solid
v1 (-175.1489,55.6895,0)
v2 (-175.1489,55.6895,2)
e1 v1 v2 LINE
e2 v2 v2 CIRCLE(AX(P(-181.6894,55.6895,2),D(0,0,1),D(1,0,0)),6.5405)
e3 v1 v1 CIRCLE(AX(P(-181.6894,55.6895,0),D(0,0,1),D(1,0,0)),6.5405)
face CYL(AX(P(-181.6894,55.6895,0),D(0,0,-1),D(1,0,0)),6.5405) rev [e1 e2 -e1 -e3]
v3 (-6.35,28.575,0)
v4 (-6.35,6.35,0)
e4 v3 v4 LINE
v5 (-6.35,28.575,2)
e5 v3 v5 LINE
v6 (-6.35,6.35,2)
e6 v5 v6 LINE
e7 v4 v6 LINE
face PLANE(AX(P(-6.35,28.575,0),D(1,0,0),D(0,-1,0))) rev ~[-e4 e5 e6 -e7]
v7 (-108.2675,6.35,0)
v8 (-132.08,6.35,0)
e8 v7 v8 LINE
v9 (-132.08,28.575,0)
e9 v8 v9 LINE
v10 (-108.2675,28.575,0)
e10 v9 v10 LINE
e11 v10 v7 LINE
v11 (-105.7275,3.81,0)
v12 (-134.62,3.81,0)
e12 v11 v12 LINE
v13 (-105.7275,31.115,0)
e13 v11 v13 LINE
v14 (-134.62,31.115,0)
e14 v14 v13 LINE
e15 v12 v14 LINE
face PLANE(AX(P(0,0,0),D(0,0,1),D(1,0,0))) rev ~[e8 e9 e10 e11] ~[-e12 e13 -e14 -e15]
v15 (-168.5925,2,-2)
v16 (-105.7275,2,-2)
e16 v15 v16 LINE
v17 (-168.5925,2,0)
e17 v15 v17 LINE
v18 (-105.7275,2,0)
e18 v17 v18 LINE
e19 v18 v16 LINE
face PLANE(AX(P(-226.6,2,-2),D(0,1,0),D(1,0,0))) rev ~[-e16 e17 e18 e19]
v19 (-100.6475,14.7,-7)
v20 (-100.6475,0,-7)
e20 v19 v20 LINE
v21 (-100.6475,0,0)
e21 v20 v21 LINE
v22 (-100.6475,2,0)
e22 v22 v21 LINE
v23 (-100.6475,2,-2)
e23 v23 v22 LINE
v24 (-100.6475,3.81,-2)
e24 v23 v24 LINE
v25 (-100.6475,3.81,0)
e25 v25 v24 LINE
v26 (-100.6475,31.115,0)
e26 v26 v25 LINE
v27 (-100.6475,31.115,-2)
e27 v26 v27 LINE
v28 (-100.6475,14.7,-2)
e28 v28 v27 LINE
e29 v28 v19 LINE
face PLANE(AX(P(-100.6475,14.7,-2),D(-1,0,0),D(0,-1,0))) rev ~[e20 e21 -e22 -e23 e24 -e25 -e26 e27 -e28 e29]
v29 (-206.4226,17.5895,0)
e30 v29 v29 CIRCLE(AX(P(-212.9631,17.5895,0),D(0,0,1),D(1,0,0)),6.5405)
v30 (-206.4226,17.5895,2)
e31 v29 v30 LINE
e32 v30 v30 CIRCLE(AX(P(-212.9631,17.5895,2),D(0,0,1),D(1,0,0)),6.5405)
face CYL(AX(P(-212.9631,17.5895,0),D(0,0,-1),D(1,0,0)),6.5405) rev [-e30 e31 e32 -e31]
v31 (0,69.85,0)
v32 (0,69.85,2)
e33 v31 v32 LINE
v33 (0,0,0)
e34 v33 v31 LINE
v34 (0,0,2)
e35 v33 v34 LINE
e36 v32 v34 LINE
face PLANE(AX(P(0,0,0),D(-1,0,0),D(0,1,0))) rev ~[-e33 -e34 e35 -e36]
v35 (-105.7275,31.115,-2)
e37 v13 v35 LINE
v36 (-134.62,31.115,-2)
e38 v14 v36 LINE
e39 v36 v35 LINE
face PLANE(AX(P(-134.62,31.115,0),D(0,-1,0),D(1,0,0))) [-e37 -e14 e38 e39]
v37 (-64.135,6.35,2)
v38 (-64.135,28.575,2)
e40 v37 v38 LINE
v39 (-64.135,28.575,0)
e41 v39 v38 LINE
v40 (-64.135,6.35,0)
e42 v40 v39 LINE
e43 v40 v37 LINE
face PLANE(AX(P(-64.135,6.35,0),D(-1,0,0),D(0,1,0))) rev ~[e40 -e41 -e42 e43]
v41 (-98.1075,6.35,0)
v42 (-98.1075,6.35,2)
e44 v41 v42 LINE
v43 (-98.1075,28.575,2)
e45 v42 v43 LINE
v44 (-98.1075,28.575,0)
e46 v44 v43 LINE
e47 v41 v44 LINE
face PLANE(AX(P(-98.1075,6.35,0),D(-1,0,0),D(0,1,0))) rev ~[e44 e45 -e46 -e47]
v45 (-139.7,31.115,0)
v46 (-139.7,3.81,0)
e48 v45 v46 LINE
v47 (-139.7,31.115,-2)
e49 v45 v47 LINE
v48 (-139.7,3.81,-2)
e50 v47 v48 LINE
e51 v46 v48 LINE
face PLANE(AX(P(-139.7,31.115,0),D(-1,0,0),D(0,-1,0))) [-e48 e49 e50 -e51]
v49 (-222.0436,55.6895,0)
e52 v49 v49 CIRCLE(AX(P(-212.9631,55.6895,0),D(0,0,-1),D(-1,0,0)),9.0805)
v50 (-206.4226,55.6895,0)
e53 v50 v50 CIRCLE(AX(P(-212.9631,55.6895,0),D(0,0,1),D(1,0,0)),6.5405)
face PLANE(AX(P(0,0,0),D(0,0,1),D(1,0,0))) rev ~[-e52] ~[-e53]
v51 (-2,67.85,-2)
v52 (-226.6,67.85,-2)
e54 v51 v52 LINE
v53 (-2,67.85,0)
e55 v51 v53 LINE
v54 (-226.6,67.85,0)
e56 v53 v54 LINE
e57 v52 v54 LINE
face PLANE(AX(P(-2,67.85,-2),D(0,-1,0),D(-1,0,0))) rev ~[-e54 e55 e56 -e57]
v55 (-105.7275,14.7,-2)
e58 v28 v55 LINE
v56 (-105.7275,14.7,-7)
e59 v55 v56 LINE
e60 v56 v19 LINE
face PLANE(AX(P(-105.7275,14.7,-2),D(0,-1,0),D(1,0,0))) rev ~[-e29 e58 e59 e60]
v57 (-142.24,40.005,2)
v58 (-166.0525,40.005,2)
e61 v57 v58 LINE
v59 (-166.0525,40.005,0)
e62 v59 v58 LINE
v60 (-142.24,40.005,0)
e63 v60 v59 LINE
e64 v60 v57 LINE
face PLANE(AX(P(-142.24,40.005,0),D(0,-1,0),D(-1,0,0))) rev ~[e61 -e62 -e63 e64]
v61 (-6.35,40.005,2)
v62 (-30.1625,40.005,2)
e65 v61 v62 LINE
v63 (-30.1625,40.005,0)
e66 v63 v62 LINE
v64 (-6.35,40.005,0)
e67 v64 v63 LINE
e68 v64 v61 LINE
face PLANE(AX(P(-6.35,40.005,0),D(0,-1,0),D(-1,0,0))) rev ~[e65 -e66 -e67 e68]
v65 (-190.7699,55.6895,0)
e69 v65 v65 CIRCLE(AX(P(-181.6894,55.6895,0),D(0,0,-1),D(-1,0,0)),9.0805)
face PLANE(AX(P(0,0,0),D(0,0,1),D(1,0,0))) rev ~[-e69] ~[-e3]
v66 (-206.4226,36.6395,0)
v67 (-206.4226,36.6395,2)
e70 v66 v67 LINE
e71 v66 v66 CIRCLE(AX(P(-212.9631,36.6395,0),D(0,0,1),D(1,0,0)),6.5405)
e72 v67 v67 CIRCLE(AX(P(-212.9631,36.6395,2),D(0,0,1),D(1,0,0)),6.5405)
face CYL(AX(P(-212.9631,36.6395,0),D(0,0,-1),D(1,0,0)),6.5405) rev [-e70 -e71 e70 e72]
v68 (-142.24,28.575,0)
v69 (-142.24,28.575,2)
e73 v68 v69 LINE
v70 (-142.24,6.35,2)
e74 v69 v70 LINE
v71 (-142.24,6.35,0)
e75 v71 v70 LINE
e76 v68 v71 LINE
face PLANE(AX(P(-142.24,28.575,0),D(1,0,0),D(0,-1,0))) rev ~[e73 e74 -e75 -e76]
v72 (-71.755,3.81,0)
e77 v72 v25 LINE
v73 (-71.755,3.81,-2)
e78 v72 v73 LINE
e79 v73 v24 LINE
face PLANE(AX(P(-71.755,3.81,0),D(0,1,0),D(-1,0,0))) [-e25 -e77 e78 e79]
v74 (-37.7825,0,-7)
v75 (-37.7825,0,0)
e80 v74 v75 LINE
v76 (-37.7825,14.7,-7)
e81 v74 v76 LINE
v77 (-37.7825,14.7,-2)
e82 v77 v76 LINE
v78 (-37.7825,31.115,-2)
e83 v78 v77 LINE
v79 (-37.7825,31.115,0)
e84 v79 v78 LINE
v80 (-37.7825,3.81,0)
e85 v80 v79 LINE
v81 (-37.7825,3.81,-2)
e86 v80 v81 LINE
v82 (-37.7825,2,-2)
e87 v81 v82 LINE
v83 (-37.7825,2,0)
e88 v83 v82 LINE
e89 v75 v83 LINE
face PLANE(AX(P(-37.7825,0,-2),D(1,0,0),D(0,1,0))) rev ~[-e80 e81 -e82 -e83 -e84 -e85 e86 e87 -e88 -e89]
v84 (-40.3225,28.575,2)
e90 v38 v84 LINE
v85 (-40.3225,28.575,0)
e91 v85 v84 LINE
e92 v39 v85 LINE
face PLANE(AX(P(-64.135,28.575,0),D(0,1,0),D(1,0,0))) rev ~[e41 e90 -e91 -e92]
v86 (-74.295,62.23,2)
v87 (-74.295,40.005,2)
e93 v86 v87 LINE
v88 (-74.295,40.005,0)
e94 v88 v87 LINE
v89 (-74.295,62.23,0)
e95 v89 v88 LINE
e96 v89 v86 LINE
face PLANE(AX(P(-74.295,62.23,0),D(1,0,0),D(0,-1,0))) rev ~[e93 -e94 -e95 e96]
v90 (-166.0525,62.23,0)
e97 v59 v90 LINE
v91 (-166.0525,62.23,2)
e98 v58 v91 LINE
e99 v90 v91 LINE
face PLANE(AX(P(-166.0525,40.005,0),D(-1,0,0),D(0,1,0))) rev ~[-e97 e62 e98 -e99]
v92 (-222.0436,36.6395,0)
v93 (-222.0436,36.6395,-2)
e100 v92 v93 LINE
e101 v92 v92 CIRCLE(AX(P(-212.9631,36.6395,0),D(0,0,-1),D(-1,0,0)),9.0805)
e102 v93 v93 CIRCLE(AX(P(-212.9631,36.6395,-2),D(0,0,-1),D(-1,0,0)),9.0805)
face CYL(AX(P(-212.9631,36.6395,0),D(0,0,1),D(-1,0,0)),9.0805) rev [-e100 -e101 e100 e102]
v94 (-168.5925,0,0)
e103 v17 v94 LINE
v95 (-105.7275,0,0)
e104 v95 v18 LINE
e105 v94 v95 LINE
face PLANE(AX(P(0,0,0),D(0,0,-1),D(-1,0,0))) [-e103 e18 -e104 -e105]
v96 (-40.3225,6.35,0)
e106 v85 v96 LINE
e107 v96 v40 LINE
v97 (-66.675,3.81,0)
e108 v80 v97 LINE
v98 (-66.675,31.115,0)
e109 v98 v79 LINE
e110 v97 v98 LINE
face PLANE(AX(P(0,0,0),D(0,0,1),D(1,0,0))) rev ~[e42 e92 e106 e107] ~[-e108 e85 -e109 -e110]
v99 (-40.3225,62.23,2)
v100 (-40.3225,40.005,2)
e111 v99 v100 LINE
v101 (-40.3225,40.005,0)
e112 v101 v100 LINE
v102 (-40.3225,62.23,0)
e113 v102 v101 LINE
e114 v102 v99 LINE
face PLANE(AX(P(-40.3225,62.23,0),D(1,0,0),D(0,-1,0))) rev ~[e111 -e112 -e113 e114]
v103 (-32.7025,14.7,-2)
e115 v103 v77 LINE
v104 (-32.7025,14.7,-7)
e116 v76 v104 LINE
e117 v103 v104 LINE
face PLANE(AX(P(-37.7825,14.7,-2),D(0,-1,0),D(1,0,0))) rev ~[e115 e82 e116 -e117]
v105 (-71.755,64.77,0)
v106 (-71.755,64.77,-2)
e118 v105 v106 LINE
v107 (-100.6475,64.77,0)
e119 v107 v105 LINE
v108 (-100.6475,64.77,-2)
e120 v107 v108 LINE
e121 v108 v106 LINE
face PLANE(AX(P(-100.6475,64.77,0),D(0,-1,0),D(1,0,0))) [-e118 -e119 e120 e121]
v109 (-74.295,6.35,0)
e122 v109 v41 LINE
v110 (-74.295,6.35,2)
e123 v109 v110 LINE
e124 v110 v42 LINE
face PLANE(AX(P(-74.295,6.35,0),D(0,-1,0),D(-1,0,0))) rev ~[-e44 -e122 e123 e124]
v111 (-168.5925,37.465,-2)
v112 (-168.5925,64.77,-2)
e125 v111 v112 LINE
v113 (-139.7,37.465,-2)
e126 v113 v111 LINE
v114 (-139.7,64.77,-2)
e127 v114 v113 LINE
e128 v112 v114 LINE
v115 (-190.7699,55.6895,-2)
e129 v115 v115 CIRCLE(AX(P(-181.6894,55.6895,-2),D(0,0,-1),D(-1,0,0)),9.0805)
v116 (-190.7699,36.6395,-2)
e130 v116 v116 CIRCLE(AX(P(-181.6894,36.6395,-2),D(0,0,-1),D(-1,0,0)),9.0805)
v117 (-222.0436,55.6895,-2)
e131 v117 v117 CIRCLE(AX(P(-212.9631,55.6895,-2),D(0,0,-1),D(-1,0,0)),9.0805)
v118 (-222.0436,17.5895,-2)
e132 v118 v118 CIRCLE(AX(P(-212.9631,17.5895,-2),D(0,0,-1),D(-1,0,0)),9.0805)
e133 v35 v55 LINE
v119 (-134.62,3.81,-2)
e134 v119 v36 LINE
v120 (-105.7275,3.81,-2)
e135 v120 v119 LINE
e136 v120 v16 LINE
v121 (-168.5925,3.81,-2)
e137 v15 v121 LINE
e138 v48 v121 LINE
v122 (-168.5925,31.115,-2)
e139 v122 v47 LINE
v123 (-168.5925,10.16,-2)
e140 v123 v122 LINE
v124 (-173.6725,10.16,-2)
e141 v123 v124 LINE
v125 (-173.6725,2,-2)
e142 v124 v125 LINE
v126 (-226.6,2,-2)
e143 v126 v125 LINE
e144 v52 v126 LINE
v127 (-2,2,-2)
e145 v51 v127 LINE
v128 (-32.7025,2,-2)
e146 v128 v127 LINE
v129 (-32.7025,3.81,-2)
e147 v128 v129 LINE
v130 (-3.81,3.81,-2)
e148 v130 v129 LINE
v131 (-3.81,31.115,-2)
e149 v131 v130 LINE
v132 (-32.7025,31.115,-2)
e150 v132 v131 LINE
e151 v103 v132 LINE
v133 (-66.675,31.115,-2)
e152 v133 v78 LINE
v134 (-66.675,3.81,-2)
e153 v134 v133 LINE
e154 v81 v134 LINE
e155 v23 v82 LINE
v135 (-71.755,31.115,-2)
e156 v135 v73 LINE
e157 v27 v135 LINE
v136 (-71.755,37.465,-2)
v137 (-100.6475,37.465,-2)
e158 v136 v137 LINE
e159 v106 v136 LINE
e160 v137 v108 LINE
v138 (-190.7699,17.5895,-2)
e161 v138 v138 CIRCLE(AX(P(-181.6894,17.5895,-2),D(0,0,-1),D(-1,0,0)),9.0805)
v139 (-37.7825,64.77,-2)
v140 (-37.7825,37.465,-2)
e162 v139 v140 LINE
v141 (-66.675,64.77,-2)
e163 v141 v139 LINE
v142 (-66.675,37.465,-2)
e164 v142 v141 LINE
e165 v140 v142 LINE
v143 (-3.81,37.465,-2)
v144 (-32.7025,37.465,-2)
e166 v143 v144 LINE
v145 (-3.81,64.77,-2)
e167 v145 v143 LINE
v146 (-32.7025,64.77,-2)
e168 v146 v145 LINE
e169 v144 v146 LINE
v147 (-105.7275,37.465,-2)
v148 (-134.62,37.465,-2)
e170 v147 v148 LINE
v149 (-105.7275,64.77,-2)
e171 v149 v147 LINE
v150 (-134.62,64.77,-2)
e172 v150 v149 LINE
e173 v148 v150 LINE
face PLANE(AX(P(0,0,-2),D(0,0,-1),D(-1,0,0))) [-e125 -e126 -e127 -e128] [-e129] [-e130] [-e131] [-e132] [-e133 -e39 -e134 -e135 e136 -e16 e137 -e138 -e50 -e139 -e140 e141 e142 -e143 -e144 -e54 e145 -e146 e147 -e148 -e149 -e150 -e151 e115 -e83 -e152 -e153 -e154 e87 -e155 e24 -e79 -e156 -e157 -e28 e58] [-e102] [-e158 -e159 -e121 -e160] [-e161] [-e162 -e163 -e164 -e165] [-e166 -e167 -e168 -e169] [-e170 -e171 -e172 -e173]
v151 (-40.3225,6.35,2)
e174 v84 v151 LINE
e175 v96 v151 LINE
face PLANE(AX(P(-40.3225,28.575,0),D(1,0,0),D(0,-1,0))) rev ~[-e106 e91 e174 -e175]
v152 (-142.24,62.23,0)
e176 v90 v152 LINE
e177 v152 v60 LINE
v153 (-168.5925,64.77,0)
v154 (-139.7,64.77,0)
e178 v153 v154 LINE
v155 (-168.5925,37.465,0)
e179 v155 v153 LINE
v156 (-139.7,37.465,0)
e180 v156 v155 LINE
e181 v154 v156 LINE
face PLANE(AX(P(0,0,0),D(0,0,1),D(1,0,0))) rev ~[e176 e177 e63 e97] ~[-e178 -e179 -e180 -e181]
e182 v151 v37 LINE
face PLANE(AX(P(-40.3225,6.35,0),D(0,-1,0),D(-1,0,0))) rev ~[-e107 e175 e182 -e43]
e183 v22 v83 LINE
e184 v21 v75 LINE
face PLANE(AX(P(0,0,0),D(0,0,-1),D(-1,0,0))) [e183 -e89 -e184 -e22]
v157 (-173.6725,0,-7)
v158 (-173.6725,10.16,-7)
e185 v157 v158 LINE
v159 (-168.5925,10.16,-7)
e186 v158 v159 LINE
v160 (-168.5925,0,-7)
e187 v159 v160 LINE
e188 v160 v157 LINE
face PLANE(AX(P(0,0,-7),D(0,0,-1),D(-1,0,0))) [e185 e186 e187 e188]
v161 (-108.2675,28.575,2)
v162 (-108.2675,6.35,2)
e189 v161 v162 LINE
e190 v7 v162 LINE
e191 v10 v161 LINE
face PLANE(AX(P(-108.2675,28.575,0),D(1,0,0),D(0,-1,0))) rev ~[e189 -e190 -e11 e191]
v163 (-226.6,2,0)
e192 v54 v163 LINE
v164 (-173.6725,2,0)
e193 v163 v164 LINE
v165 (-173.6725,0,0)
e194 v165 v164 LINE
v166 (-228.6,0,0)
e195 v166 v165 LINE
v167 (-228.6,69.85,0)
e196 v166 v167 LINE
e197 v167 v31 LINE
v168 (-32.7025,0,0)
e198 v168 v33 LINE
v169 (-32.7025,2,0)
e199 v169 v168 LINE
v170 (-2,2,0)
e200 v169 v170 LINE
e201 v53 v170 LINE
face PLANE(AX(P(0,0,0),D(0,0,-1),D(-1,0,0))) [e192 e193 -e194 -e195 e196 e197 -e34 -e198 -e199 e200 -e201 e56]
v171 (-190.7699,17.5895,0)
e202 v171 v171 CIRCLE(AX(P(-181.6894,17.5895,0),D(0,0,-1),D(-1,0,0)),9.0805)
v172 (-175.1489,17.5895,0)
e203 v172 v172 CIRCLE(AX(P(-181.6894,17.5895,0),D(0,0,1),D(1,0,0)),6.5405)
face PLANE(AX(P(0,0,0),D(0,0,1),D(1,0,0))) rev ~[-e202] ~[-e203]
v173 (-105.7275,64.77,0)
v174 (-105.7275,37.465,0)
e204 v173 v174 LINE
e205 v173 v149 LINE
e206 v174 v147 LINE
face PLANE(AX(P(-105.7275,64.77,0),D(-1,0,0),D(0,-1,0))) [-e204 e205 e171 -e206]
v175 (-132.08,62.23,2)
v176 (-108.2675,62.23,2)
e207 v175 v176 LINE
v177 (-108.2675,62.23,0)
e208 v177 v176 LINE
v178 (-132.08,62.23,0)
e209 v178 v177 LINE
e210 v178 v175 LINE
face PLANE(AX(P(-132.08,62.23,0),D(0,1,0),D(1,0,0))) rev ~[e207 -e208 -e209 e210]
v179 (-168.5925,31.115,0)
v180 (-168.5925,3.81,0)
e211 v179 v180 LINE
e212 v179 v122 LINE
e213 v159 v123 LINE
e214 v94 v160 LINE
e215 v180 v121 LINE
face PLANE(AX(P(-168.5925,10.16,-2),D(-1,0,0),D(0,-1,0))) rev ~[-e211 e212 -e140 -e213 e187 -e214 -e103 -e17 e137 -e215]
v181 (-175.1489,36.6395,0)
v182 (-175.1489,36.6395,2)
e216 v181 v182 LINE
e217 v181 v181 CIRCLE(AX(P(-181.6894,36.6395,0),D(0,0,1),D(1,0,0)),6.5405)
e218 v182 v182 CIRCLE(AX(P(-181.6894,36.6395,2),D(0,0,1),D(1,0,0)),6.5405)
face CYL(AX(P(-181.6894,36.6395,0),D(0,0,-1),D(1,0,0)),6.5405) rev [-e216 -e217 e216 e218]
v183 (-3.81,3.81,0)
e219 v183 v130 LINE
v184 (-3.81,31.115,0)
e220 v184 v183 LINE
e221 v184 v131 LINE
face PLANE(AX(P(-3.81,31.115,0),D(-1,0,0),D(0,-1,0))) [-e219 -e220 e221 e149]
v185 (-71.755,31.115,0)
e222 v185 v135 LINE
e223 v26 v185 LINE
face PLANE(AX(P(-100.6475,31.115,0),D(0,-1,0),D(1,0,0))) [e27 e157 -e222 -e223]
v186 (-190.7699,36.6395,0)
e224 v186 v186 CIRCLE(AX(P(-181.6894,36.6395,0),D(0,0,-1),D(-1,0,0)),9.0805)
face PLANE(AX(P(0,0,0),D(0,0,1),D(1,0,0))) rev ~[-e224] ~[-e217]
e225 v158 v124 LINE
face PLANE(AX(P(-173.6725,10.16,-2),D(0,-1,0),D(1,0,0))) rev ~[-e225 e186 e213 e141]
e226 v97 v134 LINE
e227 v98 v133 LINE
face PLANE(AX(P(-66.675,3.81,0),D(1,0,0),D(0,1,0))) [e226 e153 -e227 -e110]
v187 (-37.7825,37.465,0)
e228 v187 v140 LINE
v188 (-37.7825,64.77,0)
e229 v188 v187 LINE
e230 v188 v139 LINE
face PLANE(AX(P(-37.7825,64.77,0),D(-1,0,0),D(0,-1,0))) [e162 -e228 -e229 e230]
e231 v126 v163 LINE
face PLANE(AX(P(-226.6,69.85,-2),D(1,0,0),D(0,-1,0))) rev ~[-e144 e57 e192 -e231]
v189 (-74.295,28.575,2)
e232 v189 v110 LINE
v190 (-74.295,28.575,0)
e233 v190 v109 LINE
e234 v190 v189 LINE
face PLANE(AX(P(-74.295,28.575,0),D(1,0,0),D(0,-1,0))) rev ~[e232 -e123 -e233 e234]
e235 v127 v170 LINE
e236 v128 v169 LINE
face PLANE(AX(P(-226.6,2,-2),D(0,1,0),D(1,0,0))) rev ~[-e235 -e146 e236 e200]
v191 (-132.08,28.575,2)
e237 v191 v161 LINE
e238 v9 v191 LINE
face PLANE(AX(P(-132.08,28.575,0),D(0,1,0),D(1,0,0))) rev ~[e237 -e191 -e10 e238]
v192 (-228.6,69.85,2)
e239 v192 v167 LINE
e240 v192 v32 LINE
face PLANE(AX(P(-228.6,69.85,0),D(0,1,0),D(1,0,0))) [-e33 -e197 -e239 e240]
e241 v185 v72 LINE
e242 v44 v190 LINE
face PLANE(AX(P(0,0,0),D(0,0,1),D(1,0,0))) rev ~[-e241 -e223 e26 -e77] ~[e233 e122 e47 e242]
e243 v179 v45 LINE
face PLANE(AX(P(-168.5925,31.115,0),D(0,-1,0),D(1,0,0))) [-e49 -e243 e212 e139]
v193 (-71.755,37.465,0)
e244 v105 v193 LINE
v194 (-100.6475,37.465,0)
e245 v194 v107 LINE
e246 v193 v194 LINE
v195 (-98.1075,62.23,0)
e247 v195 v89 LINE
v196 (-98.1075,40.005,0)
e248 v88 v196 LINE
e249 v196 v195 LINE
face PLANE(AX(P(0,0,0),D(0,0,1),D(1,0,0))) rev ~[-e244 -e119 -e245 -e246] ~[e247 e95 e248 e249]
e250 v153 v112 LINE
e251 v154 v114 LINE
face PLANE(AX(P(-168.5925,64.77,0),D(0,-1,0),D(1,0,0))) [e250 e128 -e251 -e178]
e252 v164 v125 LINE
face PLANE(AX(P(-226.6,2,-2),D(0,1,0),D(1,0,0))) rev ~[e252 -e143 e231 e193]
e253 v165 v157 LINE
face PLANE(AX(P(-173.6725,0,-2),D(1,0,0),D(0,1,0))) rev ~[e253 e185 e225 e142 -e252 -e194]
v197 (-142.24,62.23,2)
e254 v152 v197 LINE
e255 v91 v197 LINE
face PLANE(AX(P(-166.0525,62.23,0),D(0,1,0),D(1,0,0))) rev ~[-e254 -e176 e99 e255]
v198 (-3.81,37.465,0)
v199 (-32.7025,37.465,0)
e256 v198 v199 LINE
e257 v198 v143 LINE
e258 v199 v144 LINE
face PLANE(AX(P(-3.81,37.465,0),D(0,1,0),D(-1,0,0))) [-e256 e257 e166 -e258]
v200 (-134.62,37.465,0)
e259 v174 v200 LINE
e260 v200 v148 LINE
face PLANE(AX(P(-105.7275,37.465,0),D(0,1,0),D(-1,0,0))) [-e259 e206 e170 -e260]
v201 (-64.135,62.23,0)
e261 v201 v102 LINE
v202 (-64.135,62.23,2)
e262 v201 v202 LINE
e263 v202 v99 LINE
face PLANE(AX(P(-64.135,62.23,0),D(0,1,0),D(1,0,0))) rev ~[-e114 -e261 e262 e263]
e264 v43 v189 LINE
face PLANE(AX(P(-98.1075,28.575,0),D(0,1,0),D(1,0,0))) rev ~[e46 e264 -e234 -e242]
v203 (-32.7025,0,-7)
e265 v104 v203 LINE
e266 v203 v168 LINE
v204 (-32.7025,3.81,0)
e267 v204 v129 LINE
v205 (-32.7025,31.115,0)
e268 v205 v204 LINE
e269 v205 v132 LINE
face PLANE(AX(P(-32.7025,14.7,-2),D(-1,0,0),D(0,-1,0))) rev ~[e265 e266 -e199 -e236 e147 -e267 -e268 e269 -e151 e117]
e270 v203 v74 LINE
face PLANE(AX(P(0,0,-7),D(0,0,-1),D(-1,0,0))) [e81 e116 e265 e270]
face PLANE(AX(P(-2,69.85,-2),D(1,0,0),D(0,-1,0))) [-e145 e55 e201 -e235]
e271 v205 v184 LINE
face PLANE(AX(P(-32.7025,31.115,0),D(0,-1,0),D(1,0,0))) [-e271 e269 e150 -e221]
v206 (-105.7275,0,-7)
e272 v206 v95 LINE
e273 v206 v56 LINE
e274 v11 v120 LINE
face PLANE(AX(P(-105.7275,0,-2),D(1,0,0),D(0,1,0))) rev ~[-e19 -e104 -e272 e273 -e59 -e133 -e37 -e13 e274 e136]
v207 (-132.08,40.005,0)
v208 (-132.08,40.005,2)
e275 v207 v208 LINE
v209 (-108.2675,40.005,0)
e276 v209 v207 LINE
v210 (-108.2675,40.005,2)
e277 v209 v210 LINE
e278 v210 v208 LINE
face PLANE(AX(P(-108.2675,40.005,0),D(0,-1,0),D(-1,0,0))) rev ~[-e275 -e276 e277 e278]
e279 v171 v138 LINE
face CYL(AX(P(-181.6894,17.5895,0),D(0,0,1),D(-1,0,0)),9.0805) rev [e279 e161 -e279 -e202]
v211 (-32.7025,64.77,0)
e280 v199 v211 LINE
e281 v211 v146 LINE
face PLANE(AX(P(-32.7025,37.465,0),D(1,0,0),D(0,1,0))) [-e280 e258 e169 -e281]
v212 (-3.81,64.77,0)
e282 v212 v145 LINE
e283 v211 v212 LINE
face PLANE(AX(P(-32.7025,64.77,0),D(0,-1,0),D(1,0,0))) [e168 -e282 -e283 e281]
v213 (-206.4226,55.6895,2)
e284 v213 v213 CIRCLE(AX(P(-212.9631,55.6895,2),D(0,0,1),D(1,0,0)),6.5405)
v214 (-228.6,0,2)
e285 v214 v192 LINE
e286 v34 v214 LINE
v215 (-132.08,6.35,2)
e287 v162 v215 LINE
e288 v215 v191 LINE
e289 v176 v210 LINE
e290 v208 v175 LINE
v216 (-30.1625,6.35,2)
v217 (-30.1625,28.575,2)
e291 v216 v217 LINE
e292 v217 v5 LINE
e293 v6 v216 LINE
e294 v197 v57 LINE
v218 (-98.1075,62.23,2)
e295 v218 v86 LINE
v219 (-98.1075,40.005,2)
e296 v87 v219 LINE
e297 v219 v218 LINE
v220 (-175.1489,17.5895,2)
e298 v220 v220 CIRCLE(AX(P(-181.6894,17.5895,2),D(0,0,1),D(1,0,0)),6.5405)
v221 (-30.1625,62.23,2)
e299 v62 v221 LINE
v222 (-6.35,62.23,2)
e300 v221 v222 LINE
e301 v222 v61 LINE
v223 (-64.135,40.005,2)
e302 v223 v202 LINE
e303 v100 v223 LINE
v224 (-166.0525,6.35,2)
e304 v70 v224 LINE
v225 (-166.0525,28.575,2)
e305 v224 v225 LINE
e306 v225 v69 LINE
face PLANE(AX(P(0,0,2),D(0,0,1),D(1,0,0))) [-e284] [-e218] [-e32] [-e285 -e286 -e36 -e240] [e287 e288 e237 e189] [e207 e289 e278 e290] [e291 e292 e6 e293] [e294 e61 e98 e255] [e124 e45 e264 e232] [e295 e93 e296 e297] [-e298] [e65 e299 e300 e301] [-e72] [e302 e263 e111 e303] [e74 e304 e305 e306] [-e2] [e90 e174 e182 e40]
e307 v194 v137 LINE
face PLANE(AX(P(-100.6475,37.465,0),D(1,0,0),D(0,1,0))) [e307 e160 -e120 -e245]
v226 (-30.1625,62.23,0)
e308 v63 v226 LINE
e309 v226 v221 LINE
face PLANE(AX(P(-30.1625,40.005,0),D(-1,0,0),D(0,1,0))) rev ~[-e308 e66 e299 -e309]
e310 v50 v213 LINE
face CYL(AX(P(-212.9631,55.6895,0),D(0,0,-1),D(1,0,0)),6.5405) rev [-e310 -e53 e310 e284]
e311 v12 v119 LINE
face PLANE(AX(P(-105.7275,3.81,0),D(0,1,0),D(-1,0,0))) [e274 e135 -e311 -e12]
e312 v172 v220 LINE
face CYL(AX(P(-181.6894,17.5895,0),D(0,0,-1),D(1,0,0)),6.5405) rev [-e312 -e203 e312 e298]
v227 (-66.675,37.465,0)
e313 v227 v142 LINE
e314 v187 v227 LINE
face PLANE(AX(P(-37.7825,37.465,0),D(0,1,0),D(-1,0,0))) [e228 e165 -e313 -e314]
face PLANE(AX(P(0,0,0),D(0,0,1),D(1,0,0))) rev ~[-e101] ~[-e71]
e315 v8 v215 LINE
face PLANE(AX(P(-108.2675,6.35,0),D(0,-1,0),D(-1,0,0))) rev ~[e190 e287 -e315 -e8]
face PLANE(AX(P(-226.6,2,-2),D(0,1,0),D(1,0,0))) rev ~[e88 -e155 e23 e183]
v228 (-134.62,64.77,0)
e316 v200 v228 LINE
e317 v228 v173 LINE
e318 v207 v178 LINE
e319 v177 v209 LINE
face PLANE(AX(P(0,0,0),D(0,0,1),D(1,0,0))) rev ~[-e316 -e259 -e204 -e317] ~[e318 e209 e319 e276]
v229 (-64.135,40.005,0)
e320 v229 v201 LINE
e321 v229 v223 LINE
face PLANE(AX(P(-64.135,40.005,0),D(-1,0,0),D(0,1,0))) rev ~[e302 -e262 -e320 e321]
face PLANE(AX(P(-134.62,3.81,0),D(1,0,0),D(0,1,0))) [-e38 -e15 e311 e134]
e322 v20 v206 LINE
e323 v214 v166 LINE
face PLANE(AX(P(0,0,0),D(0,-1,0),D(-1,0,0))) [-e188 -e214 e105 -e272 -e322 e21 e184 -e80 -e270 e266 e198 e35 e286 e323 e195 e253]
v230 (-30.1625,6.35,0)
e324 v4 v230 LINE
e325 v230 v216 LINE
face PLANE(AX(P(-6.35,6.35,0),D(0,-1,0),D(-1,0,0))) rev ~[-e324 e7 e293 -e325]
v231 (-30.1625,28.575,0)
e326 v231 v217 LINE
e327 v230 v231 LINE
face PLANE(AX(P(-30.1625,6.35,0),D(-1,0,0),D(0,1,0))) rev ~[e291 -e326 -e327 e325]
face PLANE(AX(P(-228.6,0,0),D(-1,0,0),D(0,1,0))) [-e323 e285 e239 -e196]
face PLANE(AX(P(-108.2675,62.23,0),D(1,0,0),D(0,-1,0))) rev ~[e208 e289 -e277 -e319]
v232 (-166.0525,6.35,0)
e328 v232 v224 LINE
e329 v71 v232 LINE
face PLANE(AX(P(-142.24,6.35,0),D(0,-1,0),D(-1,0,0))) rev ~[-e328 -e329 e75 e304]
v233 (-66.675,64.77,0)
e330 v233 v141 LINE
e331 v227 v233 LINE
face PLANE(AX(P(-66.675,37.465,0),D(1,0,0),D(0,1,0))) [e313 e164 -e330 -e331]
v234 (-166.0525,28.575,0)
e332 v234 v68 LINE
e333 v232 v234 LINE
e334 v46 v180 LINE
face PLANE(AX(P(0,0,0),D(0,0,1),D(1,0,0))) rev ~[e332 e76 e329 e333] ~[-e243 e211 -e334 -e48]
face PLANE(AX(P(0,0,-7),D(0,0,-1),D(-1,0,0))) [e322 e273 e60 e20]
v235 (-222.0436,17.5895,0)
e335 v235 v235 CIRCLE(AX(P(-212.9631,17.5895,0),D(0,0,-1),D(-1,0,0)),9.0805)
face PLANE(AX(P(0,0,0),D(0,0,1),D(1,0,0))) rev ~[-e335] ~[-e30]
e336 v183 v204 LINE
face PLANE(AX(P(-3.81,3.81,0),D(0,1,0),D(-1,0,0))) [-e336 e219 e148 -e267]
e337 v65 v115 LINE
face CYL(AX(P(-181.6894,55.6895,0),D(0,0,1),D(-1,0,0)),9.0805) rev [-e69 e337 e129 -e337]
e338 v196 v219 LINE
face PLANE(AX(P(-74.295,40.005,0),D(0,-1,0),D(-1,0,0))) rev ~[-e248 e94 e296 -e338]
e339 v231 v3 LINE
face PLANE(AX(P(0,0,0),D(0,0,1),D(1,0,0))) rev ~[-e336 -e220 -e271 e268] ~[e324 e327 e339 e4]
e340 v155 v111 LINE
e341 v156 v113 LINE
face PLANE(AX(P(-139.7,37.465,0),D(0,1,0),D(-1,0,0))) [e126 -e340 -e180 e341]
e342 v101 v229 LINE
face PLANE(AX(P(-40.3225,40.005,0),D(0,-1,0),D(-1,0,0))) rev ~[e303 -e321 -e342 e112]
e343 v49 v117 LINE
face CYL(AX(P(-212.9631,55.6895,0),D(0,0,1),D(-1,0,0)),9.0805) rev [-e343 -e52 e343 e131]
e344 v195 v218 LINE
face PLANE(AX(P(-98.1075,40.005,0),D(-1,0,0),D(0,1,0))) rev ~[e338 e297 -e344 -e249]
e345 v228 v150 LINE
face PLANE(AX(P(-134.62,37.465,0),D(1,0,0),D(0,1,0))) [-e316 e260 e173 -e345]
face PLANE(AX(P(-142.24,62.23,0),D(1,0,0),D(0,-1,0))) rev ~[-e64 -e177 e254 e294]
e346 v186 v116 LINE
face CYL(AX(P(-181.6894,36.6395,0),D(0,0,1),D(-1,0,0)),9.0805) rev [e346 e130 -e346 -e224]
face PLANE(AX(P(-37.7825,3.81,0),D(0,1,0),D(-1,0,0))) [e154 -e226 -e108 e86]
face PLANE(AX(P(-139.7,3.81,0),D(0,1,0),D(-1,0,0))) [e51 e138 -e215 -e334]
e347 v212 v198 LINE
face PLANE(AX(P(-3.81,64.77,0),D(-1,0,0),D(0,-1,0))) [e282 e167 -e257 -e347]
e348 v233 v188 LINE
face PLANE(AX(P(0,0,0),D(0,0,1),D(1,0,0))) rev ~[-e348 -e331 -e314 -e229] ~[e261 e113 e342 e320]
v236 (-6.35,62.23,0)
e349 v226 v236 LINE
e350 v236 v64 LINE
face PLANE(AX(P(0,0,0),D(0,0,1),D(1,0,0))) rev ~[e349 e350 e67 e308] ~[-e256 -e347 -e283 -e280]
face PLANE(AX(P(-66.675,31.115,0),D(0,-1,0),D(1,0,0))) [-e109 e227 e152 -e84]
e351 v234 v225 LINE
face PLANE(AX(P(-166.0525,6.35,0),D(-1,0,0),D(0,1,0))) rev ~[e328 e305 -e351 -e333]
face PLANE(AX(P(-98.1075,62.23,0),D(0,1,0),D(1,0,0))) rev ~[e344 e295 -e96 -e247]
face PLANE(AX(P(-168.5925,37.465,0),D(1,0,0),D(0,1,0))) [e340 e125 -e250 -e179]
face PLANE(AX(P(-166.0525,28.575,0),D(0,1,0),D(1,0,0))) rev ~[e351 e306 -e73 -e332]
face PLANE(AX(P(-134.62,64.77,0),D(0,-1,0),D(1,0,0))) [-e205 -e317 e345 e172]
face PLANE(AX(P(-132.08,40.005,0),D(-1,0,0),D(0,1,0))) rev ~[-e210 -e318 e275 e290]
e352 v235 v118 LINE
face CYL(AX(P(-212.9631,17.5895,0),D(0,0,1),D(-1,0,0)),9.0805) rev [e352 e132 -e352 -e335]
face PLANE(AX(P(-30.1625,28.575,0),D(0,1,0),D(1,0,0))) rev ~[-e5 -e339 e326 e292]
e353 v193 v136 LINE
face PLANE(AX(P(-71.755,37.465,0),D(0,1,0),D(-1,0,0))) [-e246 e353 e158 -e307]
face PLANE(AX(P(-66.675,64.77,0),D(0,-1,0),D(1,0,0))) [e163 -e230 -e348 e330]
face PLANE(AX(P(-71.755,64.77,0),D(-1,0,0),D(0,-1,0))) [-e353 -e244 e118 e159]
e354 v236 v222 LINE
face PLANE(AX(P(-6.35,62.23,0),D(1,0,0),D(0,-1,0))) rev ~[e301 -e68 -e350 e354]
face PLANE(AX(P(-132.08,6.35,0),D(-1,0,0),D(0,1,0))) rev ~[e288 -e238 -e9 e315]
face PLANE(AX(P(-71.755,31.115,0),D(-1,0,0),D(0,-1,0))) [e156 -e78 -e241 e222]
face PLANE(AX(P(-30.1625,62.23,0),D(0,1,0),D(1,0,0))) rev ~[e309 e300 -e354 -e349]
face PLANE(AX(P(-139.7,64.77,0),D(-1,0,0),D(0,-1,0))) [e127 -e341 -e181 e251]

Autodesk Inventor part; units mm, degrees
ref_plane "YZ Plane" through (0, 0, 0) normal (1, 0, 0) x (0, 1, 0)
ref_plane "XZ Plane" through (0, 0, 0) normal (0, 1, 0) x (-1, 0, 0)
ref_plane "XY Plane" through (0, 0, 0) normal (0, 0, 1) x (1, 0, 0)
sketch "Sketch1" plane through (0, 0, 0) normal (0, 0, 1) x (1, 0, 0)
  line L0 (0, 0) -> (-6.35, 0) construction
  line L1 (-6.35, 0) -> (-6.35, 6.35) construction
  line L2 (-6.35, 6.35) -> (0, 6.35) construction
  line L3 (0, 6.35) -> (0, 0) construction
  line L4 (-6.35, 6.35) -> (-30.1625, 6.35)
  line L5 (-30.1625, 6.35) -> (-30.1625, 28.575)
  line L6 (-30.1625, 28.575) -> (-6.35, 28.575)
  line L7 (-6.35, 28.575) -> (-6.35, 6.35)
  line L8 (-30.1625, 6.35) -> (-35.2425, 6.35) construction
  line L9 (-35.2425, 6.35) -> (-35.2425, 0) construction
  line L10 (-35.2425, 0) -> (-30.1625, 0) construction
  line L11 (-30.1625, 0) -> (-30.1625, 6.35) construction
  line L12 (-40.3225, 6.35) -> (-64.135, 6.35)
  line L13 (-64.135, 6.35) -> (-64.135, 28.575)
  line L14 (-64.135, 28.575) -> (-40.3225, 28.575)
  line L15 (-40.3225, 28.575) -> (-40.3225, 6.35)
  line L16 (-64.135, 6.35) -> (-69.215, 6.35) construction
  line L17 (-69.215, 6.35) -> (-69.215, 0) construction
  line L18 (-69.215, 0) -> (-64.135, 0) construction
  line L19 (-64.135, 0) -> (-64.135, 6.35) construction
  line L20 (-74.295, 6.35) -> (-98.1075, 6.35)
  line L21 (-98.1075, 6.35) -> (-98.1075, 28.575)
  line L22 (-98.1075, 28.575) -> (-74.295, 28.575)
  line L23 (-74.295, 28.575) -> (-74.295, 6.35)
  line L24 (-98.1075, 6.35) -> (-103.1875, 6.35) construction
  line L25 (-103.1875, 6.35) -> (-103.1875, 0) construction
  line L26 (-103.1875, 0) -> (-98.1075, 0) construction
  line L27 (-98.1075, 0) -> (-98.1075, 6.35) construction
  line L28 (-108.2675, 6.35) -> (-132.08, 6.35)
  line L29 (-132.08, 6.35) -> (-132.08, 28.575)
  line L30 (-132.08, 28.575) -> (-108.2675, 28.575)
  line L31 (-108.2675, 28.575) -> (-108.2675, 6.35)
  line L32 (-132.08, 6.35) -> (-137.16, 6.35) construction
  line L33 (-137.16, 6.35) -> (-137.16, 0) construction
  line L34 (-137.16, 0) -> (-132.08, 0) construction
  line L35 (-132.08, 0) -> (-132.08, 6.35) construction
  line L36 (-6.35, 40.005) -> (-30.1625, 40.005)
  line L37 (-30.1625, 40.005) -> (-30.1625, 62.23)
  line L38 (-30.1625, 62.23) -> (-6.35, 62.23)
  line L39 (-6.35, 62.23) -> (-6.35, 40.005)
  line L40 (-30.1625, 40.005) -> (-35.2425, 40.005) construction
  line L41 (-35.2425, 40.005) -> (-35.2425, 33.655) construction
  line L42 (-35.2425, 33.655) -> (-30.1625, 33.655) construction
  line L43 (-30.1625, 33.655) -> (-30.1625, 40.005) construction
  line L44 (-40.3225, 40.005) -> (-64.135, 40.005)
  line L45 (-64.135, 40.005) -> (-64.135, 62.23)
  line L46 (-64.135, 62.23) -> (-40.3225, 62.23)
  line L47 (-40.3225, 62.23) -> (-40.3225, 40.005)
  line L48 (-64.135, 40.005) -> (-69.215, 40.005) construction
  line L49 (-69.215, 40.005) -> (-69.215, 33.655) construction
  line L50 (-69.215, 33.655) -> (-64.135, 33.655) construction
  line L51 (-64.135, 33.655) -> (-64.135, 40.005) construction
  line L52 (-74.295, 40.005) -> (-98.1075, 40.005)
  line L53 (-98.1075, 40.005) -> (-98.1075, 62.23)
  line L54 (-98.1075, 62.23) -> (-74.295, 62.23)
  line L55 (-74.295, 62.23) -> (-74.295, 40.005)
  line L56 (-98.1075, 40.005) -> (-103.1875, 40.005) construction
  line L57 (-103.1875, 40.005) -> (-103.1875, 33.655) construction
  line L58 (-103.1875, 33.655) -> (-98.1075, 33.655) construction
  line L59 (-98.1075, 33.655) -> (-98.1075, 40.005) construction
  line L60 (-108.2675, 40.005) -> (-132.08, 40.005)
  line L61 (-132.08, 40.005) -> (-132.08, 62.23)
  line L62 (-132.08, 62.23) -> (-108.2675, 62.23)
  line L63 (-108.2675, 62.23) -> (-108.2675, 40.005)
  line L64 (-132.08, 40.005) -> (-137.16, 40.005) construction
  line L65 (-137.16, 40.005) -> (-137.16, 33.655) construction
  line L66 (-137.16, 33.655) -> (-132.08, 33.655) construction
  line L67 (-132.08, 33.655) -> (-132.08, 40.005) construction
  line L68 (0, -0.5542) -> (0, 69.2958)
  line L69 (0, 62.9458) -> (0, 69.2958)
  line L70 (-142.24, 6.35) -> (-166.0525, 6.35)
  line L71 (-166.0525, 6.35) -> (-166.0525, 28.575)
  line L72 (-166.0525, 28.575) -> (-142.24, 28.575)
  line L73 (-142.24, 28.575) -> (-142.24, 6.35)
  line L74 (-166.0525, 6.35) -> (-171.1325, 6.35) construction
  line L75 (-171.1325, 6.35) -> (-171.1325, 0) construction
  line L76 (-171.1325, 0) -> (-166.0525, 0) construction
  line L77 (-166.0525, 0) -> (-166.0525, 6.35) construction
  line L78 (-142.24, 40.005) -> (-166.0525, 40.005)
  line L79 (-166.0525, 40.005) -> (-166.0525, 62.23)
  line L80 (-166.0525, 62.23) -> (-142.24, 62.23)
  line L81 (-142.24, 62.23) -> (-142.24, 40.005)
  line L82 (-166.0525, 40.005) -> (-171.1325, 40.005) construction
  line L83 (-171.1325, 40.005) -> (-171.1325, 33.655) construction
  line L84 (-171.1325, 33.655) -> (-166.0525, 33.655) construction
  line L85 (-166.0525, 33.655) -> (-166.0525, 40.005) construction
  line L86 (0, 0) -> (-228.6, 0)
  line L87 (-228.6, 0) -> (-228.6, 69.85)
  line L88 (-228.6, 69.85) -> (0, 69.85)
  line L89 (0, 69.85) -> (0, 0)
  circle A0 centre (-181.6894, 55.6895) radius 6.5405
  line L90 (-228.6, 0) -> (-173.696, 0) construction
  line L91 (-173.696, 69.85) -> (-228.6, 69.85) construction
  line L92 (-228.6, 69.85) -> (-228.6, 0) construction
  line L93 (-228.6, 69.85) -> (-228.6, 42.1979) construction
  line L94 (-228.6, 42.1979) -> (-228.6, 34.925) construction
  line L95 (-228.6, 69.85) -> (-166.0525, 69.85) construction
  line L96 (-166.0525, 69.85) -> (-166.0525, 0) construction
  line L97 (-166.0525, 0) -> (-228.6, 0) construction
  line L98 (-228.6, 0) -> (-228.6, 69.85) construction
  line L99 (-166.0525, 69.85) -> (-197.3262, 69.85) construction
  line L100 (-197.3262, 69.85) -> (-197.3262, 0) construction
  line L101 (-197.3262, 0) -> (-166.0525, 0) construction
  line L102 (-166.0525, 0) -> (-166.0525, 69.85) construction
  circle A1 centre (-181.6894, 36.6395) radius 6.5405
  circle A2 centre (-181.6894, 17.5895) radius 6.5405
  circle A3 centre (-212.9631, 55.6895) radius 6.5405
  circle A4 centre (-212.9631, 36.6395) radius 6.5405
  circle A5 centre (-212.9631, 17.5895) radius 6.5405
  point P0 (-40.3225, 0)
  point P1 (-74.295, 0)
  point P2 (-108.2675, 0)
  point P3 (-6.35, 33.655)
  point P4 (-40.3225, 33.655)
  point P5 (-74.295, 33.655)
  point P6 (-108.2675, 33.655)
  point P7 (-142.24, 0)
  point P8 (-142.24, 33.655)
  point P9 (-181.6894, 69.85)
  dimension "d0" = 6.35
  dimension "d1" = 6.35
  dimension "d2" = 23.8125
  dimension "d3" = 22.225
  dimension "d4" = 5.08
  dimension "d7" = 33.9725
  dimension "d10" = 33.655
  dimension "d13" = 69.85
  dimension "d16" = 228.6
  dimension "d17" = 69.85
  dimension "d58" = 13.081
  dimension "d59" = 14.1605
  dimension "d62" = 19.05
extrude "Extrusion1" add sketch "Sketch1" along normal blind 2
sketch "Sketch3" plane through (0, 0, 0) normal (0, 0, -1) x (-1, 0, 0)
  line L0 (228.6, 69.85) -> (228.6, 0)
  line L1 (0, 69.85) -> (228.6, 69.85)
  line L2 (0, 0) -> (0, 69.85)
  line L3 (228.6, 0) -> (0, 0)
  circle A0 centre (181.6894, 55.6895) radius 6.5405
  line L4 (142.24, 40.005) -> (166.0525, 40.005)
  line L5 (142.24, 62.23) -> (142.24, 40.005)
  line L6 (166.0525, 62.23) -> (142.24, 62.23)
  line L7 (166.0525, 40.005) -> (166.0525, 62.23)
  line L8 (142.24, 6.35) -> (166.0525, 6.35)
  line L9 (142.24, 28.575) -> (142.24, 6.35)
  line L10 (166.0525, 28.575) -> (142.24, 28.575)
  line L11 (166.0525, 6.35) -> (166.0525, 28.575)
  line L12 (108.2675, 40.005) -> (132.08, 40.005)
  line L13 (108.2675, 62.23) -> (108.2675, 40.005)
  line L14 (132.08, 62.23) -> (108.2675, 62.23)
  line L15 (132.08, 40.005) -> (132.08, 62.23)
  line L16 (74.295, 40.005) -> (98.1075, 40.005)
  line L17 (74.295, 62.23) -> (74.295, 40.005)
  line L18 (98.1075, 62.23) -> (74.295, 62.23)
  line L19 (98.1075, 40.005) -> (98.1075, 62.23)
  line L20 (40.3225, 40.005) -> (64.135, 40.005)
  line L21 (40.3225, 62.23) -> (40.3225, 40.005)
  line L22 (64.135, 62.23) -> (40.3225, 62.23)
  line L23 (64.135, 40.005) -> (64.135, 62.23)
  line L24 (6.35, 40.005) -> (30.1625, 40.005)
  line L25 (6.35, 62.23) -> (6.35, 40.005)
  line L26 (30.1625, 62.23) -> (6.35, 62.23)
  line L27 (30.1625, 40.005) -> (30.1625, 62.23)
  line L28 (108.2675, 6.35) -> (132.08, 6.35)
  line L29 (108.2675, 28.575) -> (108.2675, 6.35)
  line L30 (132.08, 28.575) -> (108.2675, 28.575)
  line L31 (132.08, 6.35) -> (132.08, 28.575)
  line L32 (74.295, 6.35) -> (98.1075, 6.35)
  line L33 (74.295, 28.575) -> (74.295, 6.35)
  line L34 (98.1075, 28.575) -> (74.295, 28.575)
  line L35 (98.1075, 6.35) -> (98.1075, 28.575)
  line L36 (40.3225, 6.35) -> (64.135, 6.35)
  line L37 (40.3225, 28.575) -> (40.3225, 6.35)
  line L38 (64.135, 28.575) -> (40.3225, 28.575)
  line L39 (64.135, 6.35) -> (64.135, 28.575)
  line L40 (6.35, 6.35) -> (30.1625, 6.35)
  line L41 (6.35, 28.575) -> (6.35, 6.35)
  line L42 (30.1625, 28.575) -> (6.35, 28.575)
  line L43 (30.1625, 6.35) -> (30.1625, 28.575)
  line L44 (3.81, 37.465) -> (32.7025, 37.465)
  line L45 (32.7025, 37.465) -> (32.7025, 64.77)
  line L46 (32.7025, 64.77) -> (3.81, 64.77)
  line L47 (3.81, 64.77) -> (3.81, 37.465)
  line L48 (37.7825, 37.465) -> (66.675, 37.465)
  line L49 (66.675, 37.465) -> (66.675, 64.77)
  line L50 (66.675, 64.77) -> (37.7825, 64.77)
  line L51 (37.7825, 64.77) -> (37.7825, 37.465)
  line L52 (71.755, 37.465) -> (100.6475, 37.465)
  line L53 (100.6475, 37.465) -> (100.6475, 64.77)
  line L54 (100.6475, 64.77) -> (71.755, 64.77)
  line L55 (71.755, 64.77) -> (71.755, 37.465)
  line L56 (105.7275, 37.465) -> (134.62, 37.465)
  line L57 (134.62, 37.465) -> (134.62, 64.77)
  line L58 (134.62, 64.77) -> (105.7275, 64.77)
  line L59 (105.7275, 64.77) -> (105.7275, 37.465)
  line L60 (139.7, 37.465) -> (168.5925, 37.465)
  line L61 (168.5925, 37.465) -> (168.5925, 64.77)
  line L62 (168.5925, 64.77) -> (139.7, 64.77)
  line L63 (139.7, 64.77) -> (139.7, 37.465)
  line L64 (139.7, 3.81) -> (168.5925, 3.81)
  line L65 (168.5925, 3.81) -> (168.5925, 31.115)
  line L66 (168.5925, 31.115) -> (139.7, 31.115)
  line L67 (139.7, 31.115) -> (139.7, 3.81)
  line L68 (105.7275, 3.81) -> (134.62, 3.81)
  line L69 (134.62, 3.81) -> (134.62, 31.115)
  line L70 (134.62, 31.115) -> (105.7275, 31.115)
  line L71 (105.7275, 31.115) -> (105.7275, 3.81)
  line L72 (71.755, 3.81) -> (100.6475, 3.81)
  line L73 (100.6475, 3.81) -> (100.6475, 31.115)
  line L74 (100.6475, 31.115) -> (71.755, 31.115)
  line L75 (71.755, 31.115) -> (71.755, 3.81)
  line L76 (37.7825, 3.81) -> (66.675, 3.81)
  line L77 (66.675, 3.81) -> (66.675, 31.115)
  line L78 (66.675, 31.115) -> (37.7825, 31.115)
  line L79 (37.7825, 31.115) -> (37.7825, 3.81)
  line L80 (3.81, 3.81) -> (32.7025, 3.81)
  line L81 (32.7025, 3.81) -> (32.7025, 31.115)
  line L82 (32.7025, 31.115) -> (3.81, 31.115)
  line L83 (3.81, 31.115) -> (3.81, 3.81)
  line L84 (228.6, 69.85) -> (228.6, 0)
  line L85 (0, 69.85) -> (228.6, 69.85)
  line L86 (0, 0) -> (0, 69.85)
  line L87 (228.6, 0) -> (0, 0)
  circle A1 centre (181.6894, 55.6895) radius 6.5405
  circle A2 centre (181.6894, 36.6395) radius 6.5405
  circle A3 centre (181.6894, 17.5895) radius 6.5405
  circle A4 centre (212.9631, 36.6395) radius 6.5405
  circle A5 centre (212.9631, 55.6895) radius 6.5405
  circle A6 centre (212.9631, 17.5895) radius 6.5405
  line L88 (142.24, 40.005) -> (166.0525, 40.005)
  line L89 (142.24, 62.23) -> (142.24, 40.005)
  line L90 (166.0525, 62.23) -> (142.24, 62.23)
  line L91 (166.0525, 40.005) -> (166.0525, 62.23)
  line L92 (142.24, 6.35) -> (166.0525, 6.35)
  line L93 (142.24, 28.575) -> (142.24, 6.35)
  line L94 (166.0525, 28.575) -> (142.24, 28.575)
  line L95 (166.0525, 6.35) -> (166.0525, 28.575)
  line L96 (108.2675, 40.005) -> (132.08, 40.005)
  line L97 (108.2675, 62.23) -> (108.2675, 40.005)
  line L98 (132.08, 62.23) -> (108.2675, 62.23)
  line L99 (132.08, 40.005) -> (132.08, 62.23)
  line L100 (74.295, 40.005) -> (98.1075, 40.005)
  line L101 (74.295, 62.23) -> (74.295, 40.005)
  line L102 (98.1075, 62.23) -> (74.295, 62.23)
  line L103 (98.1075, 40.005) -> (98.1075, 62.23)
  line L104 (40.3225, 40.005) -> (64.135, 40.005)
  line L105 (40.3225, 62.23) -> (40.3225, 40.005)
  line L106 (64.135, 62.23) -> (40.3225, 62.23)
  line L107 (64.135, 40.005) -> (64.135, 62.23)
  line L108 (6.35, 40.005) -> (30.1625, 40.005)
  line L109 (6.35, 62.23) -> (6.35, 40.005)
  line L110 (30.1625, 62.23) -> (6.35, 62.23)
  line L111 (30.1625, 40.005) -> (30.1625, 62.23)
  line L112 (108.2675, 6.35) -> (132.08, 6.35)
  line L113 (108.2675, 28.575) -> (108.2675, 6.35)
  line L114 (132.08, 28.575) -> (108.2675, 28.575)
  line L115 (132.08, 6.35) -> (132.08, 28.575)
  line L116 (74.295, 6.35) -> (98.1075, 6.35)
  line L117 (74.295, 28.575) -> (74.295, 6.35)
  line L118 (98.1075, 28.575) -> (74.295, 28.575)
  line L119 (98.1075, 6.35) -> (98.1075, 28.575)
  line L120 (40.3225, 6.35) -> (64.135, 6.35)
  line L121 (40.3225, 28.575) -> (40.3225, 6.35)
  line L122 (64.135, 28.575) -> (40.3225, 28.575)
  line L123 (64.135, 6.35) -> (64.135, 28.575)
  line L124 (6.35, 6.35) -> (30.1625, 6.35)
  line L125 (6.35, 28.575) -> (6.35, 6.35)
  line L126 (30.1625, 28.575) -> (6.35, 28.575)
  line L127 (30.1625, 6.35) -> (30.1625, 28.575)
  circle A7 centre (181.6894, 55.6895) radius 9.0805
  circle A8 centre (212.9631, 55.6895) radius 9.0805
  circle A9 centre (212.9631, 36.6395) radius 9.0805
  circle A10 centre (212.9631, 17.5895) radius 9.0805
  circle A11 centre (181.6894, 17.5895) radius 9.0805
  circle A12 centre (181.6894, 36.6395) radius 9.0805
  dimension "d48" = 2.54
  dimension "d49" = 2.54
  dimension "d50" = 2.54
  dimension "d51" = 2.54
  dimension "d52" = 2.54
  dimension "d53" = 2.54
  dimension "d54" = 2.54
  dimension "d55" = 2.54
  dimension "d56" = 2.54
  dimension "d57" = 2.54
  dimension "d67" = 2.54
  dimension "d68" = 2.54
  dimension "d69" = 2.54
  dimension "d70" = 2.54
  dimension "d71" = 2.54
  dimension "d72" = 2.54
extrude "Extrusion2" add sketch "Sketch3" along normal blind 2 contours L0 L3 L2 L1
sketch "Sketch4" plane through (0, 0, -2) normal (0, 0, -1) x (-1, 0, 0)
  line L0 (228.6, 0) -> (228.6, 69.85) construction
  line L1 (228.6, 69.85) -> (0, 69.85) construction
  line L2 (0, 69.85) -> (0, 0) construction
  line L3 (0, 0) -> (228.6, 0) construction
  circle A0 centre (181.6894, 36.6395) radius 9.0805 construction
  circle A1 centre (181.6894, 17.5895) radius 9.0805 construction
  circle A2 centre (212.9631, 17.5895) radius 9.0805 construction
  circle A3 centre (212.9631, 36.6395) radius 9.0805 construction
  circle A4 centre (212.9631, 55.6895) radius 9.0805 construction
  circle A5 centre (181.6894, 55.6895) radius 9.0805 construction
  line L4 (3.81, 3.81) -> (3.81, 31.115) construction
  line L5 (3.81, 31.115) -> (32.7025, 31.115) construction
  line L6 (32.7025, 31.115) -> (32.7025, 3.81) construction
  line L7 (32.7025, 3.81) -> (3.81, 3.81) construction
  line L8 (37.7825, 3.81) -> (37.7825, 31.115) construction
  line L9 (37.7825, 31.115) -> (66.675, 31.115) construction
  line L10 (66.675, 31.115) -> (66.675, 3.81) construction
  line L11 (66.675, 3.81) -> (37.7825, 3.81) construction
  line L12 (71.755, 3.81) -> (71.755, 31.115) construction
  line L13 (71.755, 31.115) -> (100.6475, 31.115) construction
  line L14 (100.6475, 31.115) -> (100.6475, 3.81) construction
  line L15 (100.6475, 3.81) -> (71.755, 3.81) construction
  line L16 (105.7275, 3.81) -> (105.7275, 31.115) construction
  line L17 (105.7275, 31.115) -> (134.62, 31.115) construction
  line L18 (134.62, 31.115) -> (134.62, 3.81) construction
  line L19 (134.62, 3.81) -> (105.7275, 3.81) construction
  line L20 (139.7, 3.81) -> (139.7, 31.115) construction
  line L21 (139.7, 31.115) -> (168.5925, 31.115) construction
  line L22 (168.5925, 31.115) -> (168.5925, 3.81) construction
  line L23 (168.5925, 3.81) -> (139.7, 3.81) construction
  line L24 (139.7, 37.465) -> (139.7, 64.77) construction
  line L25 (139.7, 64.77) -> (168.5925, 64.77) construction
  line L26 (168.5925, 64.77) -> (168.5925, 37.465) construction
  line L27 (168.5925, 37.465) -> (139.7, 37.465) construction
  line L28 (105.7275, 37.465) -> (105.7275, 64.77) construction
  line L29 (105.7275, 64.77) -> (134.62, 64.77) construction
  line L30 (134.62, 64.77) -> (134.62, 37.465) construction
  line L31 (134.62, 37.465) -> (105.7275, 37.465) construction
  line L32 (71.755, 37.465) -> (71.755, 64.77) construction
  line L33 (71.755, 64.77) -> (100.6475, 64.77) construction
  line L34 (100.6475, 64.77) -> (100.6475, 37.465) construction
  line L35 (100.6475, 37.465) -> (71.755, 37.465) construction
  line L36 (37.7825, 37.465) -> (37.7825, 64.77) construction
  line L37 (37.7825, 64.77) -> (66.675, 64.77) construction
  line L38 (66.675, 64.77) -> (66.675, 37.465) construction
  line L39 (66.675, 37.465) -> (37.7825, 37.465) construction
  line L40 (3.81, 37.465) -> (3.81, 64.77) construction
  line L41 (3.81, 64.77) -> (32.7025, 64.77) construction
  line L42 (32.7025, 64.77) -> (32.7025, 37.465) construction
  line L43 (32.7025, 37.465) -> (3.81, 37.465) construction
  line L44 (0, 69.85) -> (2, 69.85)
  line L45 (2, 69.85) -> (2, 0)
  line L46 (2, 0) -> (0, 0)
  line L47 (0, 0) -> (0, 69.85)
  line L48 (228.6, 69.85) -> (226.6, 69.85)
  line L49 (226.6, 69.85) -> (226.6, 0)
  line L50 (226.6, 0) -> (228.6, 0)
  line L51 (228.6, 0) -> (228.6, 69.85)
  dimension "d75" = 2
  dimension "d76" = 2
extrude "Extrusion3" cut sketch "Sketch4" against normal blind 2
sketch "Sketch5" plane through (0, 0, -2) normal (0, 0, -1) x (-1, 0, 0)
  line L0 (2, 0) -> (226.6, 0)
  line L1 (226.6, 0) -> (226.6, 69.85)
  line L2 (2, 0) -> (226.6, 0)
  line L3 (226.6, 0) -> (226.6, 2)
  line L4 (226.6, 2) -> (2, 2)
  line L5 (2, 2) -> (2, 0)
  line L6 (2, 69.85) -> (2, 0) construction
  line L7 (2, 0) -> (226.6, 0) construction
  line L8 (226.6, 0) -> (226.6, 69.85) construction
  line L9 (226.6, 69.85) -> (2, 69.85) construction
  circle A0 centre (181.6894, 36.6395) radius 9.0805 construction
  circle A1 centre (181.6894, 17.5895) radius 9.0805 construction
  circle A2 centre (212.9631, 17.5895) radius 9.0805 construction
  circle A3 centre (212.9631, 36.6395) radius 9.0805 construction
  circle A4 centre (212.9631, 55.6895) radius 9.0805 construction
  circle A5 centre (181.6894, 55.6895) radius 9.0805 construction
  line L10 (3.81, 3.81) -> (3.81, 31.115) construction
  line L11 (3.81, 31.115) -> (32.7025, 31.115) construction
  line L12 (32.7025, 31.115) -> (32.7025, 3.81) construction
  line L13 (32.7025, 3.81) -> (3.81, 3.81) construction
  line L14 (37.7825, 3.81) -> (37.7825, 31.115) construction
  line L15 (37.7825, 31.115) -> (66.675, 31.115) construction
  line L16 (66.675, 31.115) -> (66.675, 3.81) construction
  line L17 (66.675, 3.81) -> (37.7825, 3.81) construction
  line L18 (71.755, 3.81) -> (71.755, 31.115) construction
  line L19 (71.755, 31.115) -> (100.6475, 31.115) construction
  line L20 (100.6475, 31.115) -> (100.6475, 3.81) construction
  line L21 (100.6475, 3.81) -> (71.755, 3.81) construction
  line L22 (105.7275, 3.81) -> (105.7275, 31.115) construction
  line L23 (105.7275, 31.115) -> (134.62, 31.115) construction
  line L24 (134.62, 31.115) -> (134.62, 3.81) construction
  line L25 (134.62, 3.81) -> (105.7275, 3.81) construction
  line L26 (139.7, 3.81) -> (139.7, 31.115) construction
  line L27 (139.7, 31.115) -> (168.5925, 31.115) construction
  line L28 (168.5925, 31.115) -> (168.5925, 3.81) construction
  line L29 (168.5925, 3.81) -> (139.7, 3.81) construction
  line L30 (139.7, 37.465) -> (139.7, 64.77) construction
  line L31 (139.7, 64.77) -> (168.5925, 64.77) construction
  line L32 (168.5925, 64.77) -> (168.5925, 37.465) construction
  line L33 (168.5925, 37.465) -> (139.7, 37.465) construction
  line L34 (105.7275, 37.465) -> (105.7275, 64.77) construction
  line L35 (105.7275, 64.77) -> (134.62, 64.77) construction
  line L36 (134.62, 64.77) -> (134.62, 37.465) construction
  line L37 (134.62, 37.465) -> (105.7275, 37.465) construction
  line L38 (71.755, 37.465) -> (71.755, 64.77) construction
  line L39 (71.755, 64.77) -> (100.6475, 64.77) construction
  line L40 (100.6475, 64.77) -> (100.6475, 37.465) construction
  line L41 (100.6475, 37.465) -> (71.755, 37.465) construction
  line L42 (37.7825, 37.465) -> (37.7825, 64.77) construction
  line L43 (37.7825, 64.77) -> (66.675, 64.77) construction
  line L44 (66.675, 64.77) -> (66.675, 37.465) construction
  line L45 (66.675, 37.465) -> (37.7825, 37.465) construction
  line L46 (3.81, 37.465) -> (3.81, 64.77) construction
  line L47 (3.81, 64.77) -> (32.7025, 64.77) construction
  line L48 (32.7025, 64.77) -> (32.7025, 37.465) construction
  line L49 (32.7025, 37.465) -> (3.81, 37.465) construction
  line L50 (2, 69.85) -> (226.6, 69.85) construction
  line L51 (226.6, 69.85) -> (226.6, 67.85) construction
  line L52 (226.6, 67.85) -> (2, 67.85) construction
  line L53 (2, 67.85) -> (2, 69.85) construction
  line L54 (2, 67.85) -> (226.6, 67.85)
  line L55 (226.6, 67.85) -> (226.6, 69.85)
  line L56 (226.6, 69.85) -> (2, 69.85)
  line L57 (2, 69.85) -> (2, 67.85)
  point P0 (0, 0)
  dimension "d79" = 2
  dimension "d80" = 2
extrude "Extrusion4" cut sketch "Sketch5" against normal blind 2
sketch "Sketch6" plane through (0, 0, -2) normal (0, 0, -1) x (-1, 0, 0)
  line L0 (2, 2) -> (226.6, 2) construction
  line L1 (226.6, 2) -> (226.6, 67.85) construction
  line L2 (226.6, 67.85) -> (2, 67.85) construction
  line L3 (2, 67.85) -> (2, 2) construction
  circle A0 centre (181.6894, 36.6395) radius 9.0805 construction
  circle A1 centre (181.6894, 17.5895) radius 9.0805 construction
  circle A2 centre (212.9631, 17.5895) radius 9.0805 construction
  circle A3 centre (212.9631, 36.6395) radius 9.0805 construction
  circle A4 centre (212.9631, 55.6895) radius 9.0805 construction
  circle A5 centre (181.6894, 55.6895) radius 9.0805 construction
  line L4 (3.81, 3.81) -> (3.81, 31.115) construction
  line L5 (3.81, 31.115) -> (32.7025, 31.115) construction
  line L6 (32.7025, 31.115) -> (32.7025, 3.81) construction
  line L7 (32.7025, 3.81) -> (3.81, 3.81) construction
  line L8 (37.7825, 3.81) -> (37.7825, 31.115) construction
  line L9 (37.7825, 31.115) -> (66.675, 31.115) construction
  line L10 (66.675, 31.115) -> (66.675, 3.81) construction
  line L11 (66.675, 3.81) -> (37.7825, 3.81) construction
  line L12 (71.755, 3.81) -> (71.755, 31.115) construction
  line L13 (71.755, 31.115) -> (100.6475, 31.115) construction
  line L14 (100.6475, 31.115) -> (100.6475, 3.81) construction
  line L15 (100.6475, 3.81) -> (71.755, 3.81) construction
  line L16 (105.7275, 3.81) -> (105.7275, 31.115) construction
  line L17 (105.7275, 31.115) -> (134.62, 31.115) construction
  line L18 (134.62, 31.115) -> (134.62, 3.81) construction
  line L19 (134.62, 3.81) -> (105.7275, 3.81) construction
  line L20 (139.7, 3.81) -> (139.7, 31.115) construction
  line L21 (139.7, 31.115) -> (168.5925, 31.115) construction
  line L22 (168.5925, 31.115) -> (168.5925, 3.81) construction
  line L23 (168.5925, 3.81) -> (139.7, 3.81) construction
  line L24 (139.7, 37.465) -> (139.7, 64.77) construction
  line L25 (139.7, 64.77) -> (168.5925, 64.77) construction
  line L26 (168.5925, 64.77) -> (168.5925, 37.465) construction
  line L27 (168.5925, 37.465) -> (139.7, 37.465) construction
  line L28 (105.7275, 37.465) -> (105.7275, 64.77) construction
  line L29 (105.7275, 64.77) -> (134.62, 64.77) construction
  line L30 (134.62, 64.77) -> (134.62, 37.465) construction
  line L31 (134.62, 37.465) -> (105.7275, 37.465) construction
  line L32 (71.755, 37.465) -> (71.755, 64.77) construction
  line L33 (71.755, 64.77) -> (100.6475, 64.77) construction
  line L34 (100.6475, 64.77) -> (100.6475, 37.465) construction
  line L35 (100.6475, 37.465) -> (71.755, 37.465) construction
  line L36 (37.7825, 37.465) -> (37.7825, 64.77) construction
  line L37 (37.7825, 64.77) -> (66.675, 64.77) construction
  line L38 (66.675, 64.77) -> (66.675, 37.465) construction
  line L39 (66.675, 37.465) -> (37.7825, 37.465) construction
  line L40 (3.81, 37.465) -> (3.81, 64.77) construction
  line L41 (3.81, 64.77) -> (32.7025, 64.77) construction
  line L42 (32.7025, 64.77) -> (32.7025, 37.465) construction
  line L43 (32.7025, 37.465) -> (3.81, 37.465) construction
  line L44 (37.7825, 3.81) -> (37.7825, 31.115) construction
  line L45 (32.7025, 2) -> (37.7825, 2) construction
  line L46 (37.7825, 2) -> (37.7825, 14.7) construction
  line L47 (37.7825, 14.7) -> (32.7025, 14.7) construction
  line L48 (32.7025, 14.7) -> (32.7025, 2) construction
  line L49 (228.6, 0) -> (0, 0) construction
  line L50 (228.6, 69.85) -> (228.6, 0) construction
  line L51 (0, 69.85) -> (228.6, 69.85) construction
  line L52 (0, 0) -> (0, 69.85) construction
  line L53 (2, 2) -> (226.6, 2) construction
  line L54 (2, 67.85) -> (2, 2) construction
  line L55 (226.6, 67.85) -> (2, 67.85) construction
  line L56 (226.6, 2) -> (226.6, 67.85) construction
  line L57 (32.7025, 0) -> (37.7825, 0) construction
  line L58 (37.7825, 0) -> (37.7825, 10.16) construction
  line L59 (37.7825, 10.16) -> (32.7025, 10.16) construction
  line L60 (32.7025, 10.16) -> (32.7025, 0) construction
  line L61 (32.7025, 0) -> (37.7825, 0) construction
  line L62 (37.7825, 0) -> (37.7825, 14.7) construction
  line L63 (37.7825, 14.7) -> (32.7025, 14.7) construction
  line L64 (32.7025, 14.7) -> (32.7025, 0) construction
  line L65 (37.7825, 14.7) -> (32.7025, 14.7)
  line L66 (32.7025, 14.7) -> (32.7025, 0)
  line L67 (32.7025, 0) -> (37.7825, 0)
  line L68 (37.7825, 0) -> (37.7825, 14.7)
  line L69 (105.7275, 14.7) -> (100.6475, 14.7)
  line L70 (100.6475, 14.7) -> (100.6475, 0)
  line L71 (100.6475, 0) -> (105.7275, 0)
  line L72 (105.7275, 0) -> (105.7275, 14.7)
  line L73 (168.5925, 0) -> (173.6725, 0)
  line L74 (173.6725, 0) -> (173.6725, 10.16)
  line L75 (173.6725, 10.16) -> (168.5925, 10.16)
  line L76 (168.5925, 10.16) -> (168.5925, 0)
  dimension "d83" = 12.7
  dimension "d84" = 10.16
  dimension "d85" = 5.08
  dimension "d86" = 10.16
extrude "Extrusion5" add sketch "Sketch6" along normal blind 5 and the other way blind 2
properties part number "front_panel"
